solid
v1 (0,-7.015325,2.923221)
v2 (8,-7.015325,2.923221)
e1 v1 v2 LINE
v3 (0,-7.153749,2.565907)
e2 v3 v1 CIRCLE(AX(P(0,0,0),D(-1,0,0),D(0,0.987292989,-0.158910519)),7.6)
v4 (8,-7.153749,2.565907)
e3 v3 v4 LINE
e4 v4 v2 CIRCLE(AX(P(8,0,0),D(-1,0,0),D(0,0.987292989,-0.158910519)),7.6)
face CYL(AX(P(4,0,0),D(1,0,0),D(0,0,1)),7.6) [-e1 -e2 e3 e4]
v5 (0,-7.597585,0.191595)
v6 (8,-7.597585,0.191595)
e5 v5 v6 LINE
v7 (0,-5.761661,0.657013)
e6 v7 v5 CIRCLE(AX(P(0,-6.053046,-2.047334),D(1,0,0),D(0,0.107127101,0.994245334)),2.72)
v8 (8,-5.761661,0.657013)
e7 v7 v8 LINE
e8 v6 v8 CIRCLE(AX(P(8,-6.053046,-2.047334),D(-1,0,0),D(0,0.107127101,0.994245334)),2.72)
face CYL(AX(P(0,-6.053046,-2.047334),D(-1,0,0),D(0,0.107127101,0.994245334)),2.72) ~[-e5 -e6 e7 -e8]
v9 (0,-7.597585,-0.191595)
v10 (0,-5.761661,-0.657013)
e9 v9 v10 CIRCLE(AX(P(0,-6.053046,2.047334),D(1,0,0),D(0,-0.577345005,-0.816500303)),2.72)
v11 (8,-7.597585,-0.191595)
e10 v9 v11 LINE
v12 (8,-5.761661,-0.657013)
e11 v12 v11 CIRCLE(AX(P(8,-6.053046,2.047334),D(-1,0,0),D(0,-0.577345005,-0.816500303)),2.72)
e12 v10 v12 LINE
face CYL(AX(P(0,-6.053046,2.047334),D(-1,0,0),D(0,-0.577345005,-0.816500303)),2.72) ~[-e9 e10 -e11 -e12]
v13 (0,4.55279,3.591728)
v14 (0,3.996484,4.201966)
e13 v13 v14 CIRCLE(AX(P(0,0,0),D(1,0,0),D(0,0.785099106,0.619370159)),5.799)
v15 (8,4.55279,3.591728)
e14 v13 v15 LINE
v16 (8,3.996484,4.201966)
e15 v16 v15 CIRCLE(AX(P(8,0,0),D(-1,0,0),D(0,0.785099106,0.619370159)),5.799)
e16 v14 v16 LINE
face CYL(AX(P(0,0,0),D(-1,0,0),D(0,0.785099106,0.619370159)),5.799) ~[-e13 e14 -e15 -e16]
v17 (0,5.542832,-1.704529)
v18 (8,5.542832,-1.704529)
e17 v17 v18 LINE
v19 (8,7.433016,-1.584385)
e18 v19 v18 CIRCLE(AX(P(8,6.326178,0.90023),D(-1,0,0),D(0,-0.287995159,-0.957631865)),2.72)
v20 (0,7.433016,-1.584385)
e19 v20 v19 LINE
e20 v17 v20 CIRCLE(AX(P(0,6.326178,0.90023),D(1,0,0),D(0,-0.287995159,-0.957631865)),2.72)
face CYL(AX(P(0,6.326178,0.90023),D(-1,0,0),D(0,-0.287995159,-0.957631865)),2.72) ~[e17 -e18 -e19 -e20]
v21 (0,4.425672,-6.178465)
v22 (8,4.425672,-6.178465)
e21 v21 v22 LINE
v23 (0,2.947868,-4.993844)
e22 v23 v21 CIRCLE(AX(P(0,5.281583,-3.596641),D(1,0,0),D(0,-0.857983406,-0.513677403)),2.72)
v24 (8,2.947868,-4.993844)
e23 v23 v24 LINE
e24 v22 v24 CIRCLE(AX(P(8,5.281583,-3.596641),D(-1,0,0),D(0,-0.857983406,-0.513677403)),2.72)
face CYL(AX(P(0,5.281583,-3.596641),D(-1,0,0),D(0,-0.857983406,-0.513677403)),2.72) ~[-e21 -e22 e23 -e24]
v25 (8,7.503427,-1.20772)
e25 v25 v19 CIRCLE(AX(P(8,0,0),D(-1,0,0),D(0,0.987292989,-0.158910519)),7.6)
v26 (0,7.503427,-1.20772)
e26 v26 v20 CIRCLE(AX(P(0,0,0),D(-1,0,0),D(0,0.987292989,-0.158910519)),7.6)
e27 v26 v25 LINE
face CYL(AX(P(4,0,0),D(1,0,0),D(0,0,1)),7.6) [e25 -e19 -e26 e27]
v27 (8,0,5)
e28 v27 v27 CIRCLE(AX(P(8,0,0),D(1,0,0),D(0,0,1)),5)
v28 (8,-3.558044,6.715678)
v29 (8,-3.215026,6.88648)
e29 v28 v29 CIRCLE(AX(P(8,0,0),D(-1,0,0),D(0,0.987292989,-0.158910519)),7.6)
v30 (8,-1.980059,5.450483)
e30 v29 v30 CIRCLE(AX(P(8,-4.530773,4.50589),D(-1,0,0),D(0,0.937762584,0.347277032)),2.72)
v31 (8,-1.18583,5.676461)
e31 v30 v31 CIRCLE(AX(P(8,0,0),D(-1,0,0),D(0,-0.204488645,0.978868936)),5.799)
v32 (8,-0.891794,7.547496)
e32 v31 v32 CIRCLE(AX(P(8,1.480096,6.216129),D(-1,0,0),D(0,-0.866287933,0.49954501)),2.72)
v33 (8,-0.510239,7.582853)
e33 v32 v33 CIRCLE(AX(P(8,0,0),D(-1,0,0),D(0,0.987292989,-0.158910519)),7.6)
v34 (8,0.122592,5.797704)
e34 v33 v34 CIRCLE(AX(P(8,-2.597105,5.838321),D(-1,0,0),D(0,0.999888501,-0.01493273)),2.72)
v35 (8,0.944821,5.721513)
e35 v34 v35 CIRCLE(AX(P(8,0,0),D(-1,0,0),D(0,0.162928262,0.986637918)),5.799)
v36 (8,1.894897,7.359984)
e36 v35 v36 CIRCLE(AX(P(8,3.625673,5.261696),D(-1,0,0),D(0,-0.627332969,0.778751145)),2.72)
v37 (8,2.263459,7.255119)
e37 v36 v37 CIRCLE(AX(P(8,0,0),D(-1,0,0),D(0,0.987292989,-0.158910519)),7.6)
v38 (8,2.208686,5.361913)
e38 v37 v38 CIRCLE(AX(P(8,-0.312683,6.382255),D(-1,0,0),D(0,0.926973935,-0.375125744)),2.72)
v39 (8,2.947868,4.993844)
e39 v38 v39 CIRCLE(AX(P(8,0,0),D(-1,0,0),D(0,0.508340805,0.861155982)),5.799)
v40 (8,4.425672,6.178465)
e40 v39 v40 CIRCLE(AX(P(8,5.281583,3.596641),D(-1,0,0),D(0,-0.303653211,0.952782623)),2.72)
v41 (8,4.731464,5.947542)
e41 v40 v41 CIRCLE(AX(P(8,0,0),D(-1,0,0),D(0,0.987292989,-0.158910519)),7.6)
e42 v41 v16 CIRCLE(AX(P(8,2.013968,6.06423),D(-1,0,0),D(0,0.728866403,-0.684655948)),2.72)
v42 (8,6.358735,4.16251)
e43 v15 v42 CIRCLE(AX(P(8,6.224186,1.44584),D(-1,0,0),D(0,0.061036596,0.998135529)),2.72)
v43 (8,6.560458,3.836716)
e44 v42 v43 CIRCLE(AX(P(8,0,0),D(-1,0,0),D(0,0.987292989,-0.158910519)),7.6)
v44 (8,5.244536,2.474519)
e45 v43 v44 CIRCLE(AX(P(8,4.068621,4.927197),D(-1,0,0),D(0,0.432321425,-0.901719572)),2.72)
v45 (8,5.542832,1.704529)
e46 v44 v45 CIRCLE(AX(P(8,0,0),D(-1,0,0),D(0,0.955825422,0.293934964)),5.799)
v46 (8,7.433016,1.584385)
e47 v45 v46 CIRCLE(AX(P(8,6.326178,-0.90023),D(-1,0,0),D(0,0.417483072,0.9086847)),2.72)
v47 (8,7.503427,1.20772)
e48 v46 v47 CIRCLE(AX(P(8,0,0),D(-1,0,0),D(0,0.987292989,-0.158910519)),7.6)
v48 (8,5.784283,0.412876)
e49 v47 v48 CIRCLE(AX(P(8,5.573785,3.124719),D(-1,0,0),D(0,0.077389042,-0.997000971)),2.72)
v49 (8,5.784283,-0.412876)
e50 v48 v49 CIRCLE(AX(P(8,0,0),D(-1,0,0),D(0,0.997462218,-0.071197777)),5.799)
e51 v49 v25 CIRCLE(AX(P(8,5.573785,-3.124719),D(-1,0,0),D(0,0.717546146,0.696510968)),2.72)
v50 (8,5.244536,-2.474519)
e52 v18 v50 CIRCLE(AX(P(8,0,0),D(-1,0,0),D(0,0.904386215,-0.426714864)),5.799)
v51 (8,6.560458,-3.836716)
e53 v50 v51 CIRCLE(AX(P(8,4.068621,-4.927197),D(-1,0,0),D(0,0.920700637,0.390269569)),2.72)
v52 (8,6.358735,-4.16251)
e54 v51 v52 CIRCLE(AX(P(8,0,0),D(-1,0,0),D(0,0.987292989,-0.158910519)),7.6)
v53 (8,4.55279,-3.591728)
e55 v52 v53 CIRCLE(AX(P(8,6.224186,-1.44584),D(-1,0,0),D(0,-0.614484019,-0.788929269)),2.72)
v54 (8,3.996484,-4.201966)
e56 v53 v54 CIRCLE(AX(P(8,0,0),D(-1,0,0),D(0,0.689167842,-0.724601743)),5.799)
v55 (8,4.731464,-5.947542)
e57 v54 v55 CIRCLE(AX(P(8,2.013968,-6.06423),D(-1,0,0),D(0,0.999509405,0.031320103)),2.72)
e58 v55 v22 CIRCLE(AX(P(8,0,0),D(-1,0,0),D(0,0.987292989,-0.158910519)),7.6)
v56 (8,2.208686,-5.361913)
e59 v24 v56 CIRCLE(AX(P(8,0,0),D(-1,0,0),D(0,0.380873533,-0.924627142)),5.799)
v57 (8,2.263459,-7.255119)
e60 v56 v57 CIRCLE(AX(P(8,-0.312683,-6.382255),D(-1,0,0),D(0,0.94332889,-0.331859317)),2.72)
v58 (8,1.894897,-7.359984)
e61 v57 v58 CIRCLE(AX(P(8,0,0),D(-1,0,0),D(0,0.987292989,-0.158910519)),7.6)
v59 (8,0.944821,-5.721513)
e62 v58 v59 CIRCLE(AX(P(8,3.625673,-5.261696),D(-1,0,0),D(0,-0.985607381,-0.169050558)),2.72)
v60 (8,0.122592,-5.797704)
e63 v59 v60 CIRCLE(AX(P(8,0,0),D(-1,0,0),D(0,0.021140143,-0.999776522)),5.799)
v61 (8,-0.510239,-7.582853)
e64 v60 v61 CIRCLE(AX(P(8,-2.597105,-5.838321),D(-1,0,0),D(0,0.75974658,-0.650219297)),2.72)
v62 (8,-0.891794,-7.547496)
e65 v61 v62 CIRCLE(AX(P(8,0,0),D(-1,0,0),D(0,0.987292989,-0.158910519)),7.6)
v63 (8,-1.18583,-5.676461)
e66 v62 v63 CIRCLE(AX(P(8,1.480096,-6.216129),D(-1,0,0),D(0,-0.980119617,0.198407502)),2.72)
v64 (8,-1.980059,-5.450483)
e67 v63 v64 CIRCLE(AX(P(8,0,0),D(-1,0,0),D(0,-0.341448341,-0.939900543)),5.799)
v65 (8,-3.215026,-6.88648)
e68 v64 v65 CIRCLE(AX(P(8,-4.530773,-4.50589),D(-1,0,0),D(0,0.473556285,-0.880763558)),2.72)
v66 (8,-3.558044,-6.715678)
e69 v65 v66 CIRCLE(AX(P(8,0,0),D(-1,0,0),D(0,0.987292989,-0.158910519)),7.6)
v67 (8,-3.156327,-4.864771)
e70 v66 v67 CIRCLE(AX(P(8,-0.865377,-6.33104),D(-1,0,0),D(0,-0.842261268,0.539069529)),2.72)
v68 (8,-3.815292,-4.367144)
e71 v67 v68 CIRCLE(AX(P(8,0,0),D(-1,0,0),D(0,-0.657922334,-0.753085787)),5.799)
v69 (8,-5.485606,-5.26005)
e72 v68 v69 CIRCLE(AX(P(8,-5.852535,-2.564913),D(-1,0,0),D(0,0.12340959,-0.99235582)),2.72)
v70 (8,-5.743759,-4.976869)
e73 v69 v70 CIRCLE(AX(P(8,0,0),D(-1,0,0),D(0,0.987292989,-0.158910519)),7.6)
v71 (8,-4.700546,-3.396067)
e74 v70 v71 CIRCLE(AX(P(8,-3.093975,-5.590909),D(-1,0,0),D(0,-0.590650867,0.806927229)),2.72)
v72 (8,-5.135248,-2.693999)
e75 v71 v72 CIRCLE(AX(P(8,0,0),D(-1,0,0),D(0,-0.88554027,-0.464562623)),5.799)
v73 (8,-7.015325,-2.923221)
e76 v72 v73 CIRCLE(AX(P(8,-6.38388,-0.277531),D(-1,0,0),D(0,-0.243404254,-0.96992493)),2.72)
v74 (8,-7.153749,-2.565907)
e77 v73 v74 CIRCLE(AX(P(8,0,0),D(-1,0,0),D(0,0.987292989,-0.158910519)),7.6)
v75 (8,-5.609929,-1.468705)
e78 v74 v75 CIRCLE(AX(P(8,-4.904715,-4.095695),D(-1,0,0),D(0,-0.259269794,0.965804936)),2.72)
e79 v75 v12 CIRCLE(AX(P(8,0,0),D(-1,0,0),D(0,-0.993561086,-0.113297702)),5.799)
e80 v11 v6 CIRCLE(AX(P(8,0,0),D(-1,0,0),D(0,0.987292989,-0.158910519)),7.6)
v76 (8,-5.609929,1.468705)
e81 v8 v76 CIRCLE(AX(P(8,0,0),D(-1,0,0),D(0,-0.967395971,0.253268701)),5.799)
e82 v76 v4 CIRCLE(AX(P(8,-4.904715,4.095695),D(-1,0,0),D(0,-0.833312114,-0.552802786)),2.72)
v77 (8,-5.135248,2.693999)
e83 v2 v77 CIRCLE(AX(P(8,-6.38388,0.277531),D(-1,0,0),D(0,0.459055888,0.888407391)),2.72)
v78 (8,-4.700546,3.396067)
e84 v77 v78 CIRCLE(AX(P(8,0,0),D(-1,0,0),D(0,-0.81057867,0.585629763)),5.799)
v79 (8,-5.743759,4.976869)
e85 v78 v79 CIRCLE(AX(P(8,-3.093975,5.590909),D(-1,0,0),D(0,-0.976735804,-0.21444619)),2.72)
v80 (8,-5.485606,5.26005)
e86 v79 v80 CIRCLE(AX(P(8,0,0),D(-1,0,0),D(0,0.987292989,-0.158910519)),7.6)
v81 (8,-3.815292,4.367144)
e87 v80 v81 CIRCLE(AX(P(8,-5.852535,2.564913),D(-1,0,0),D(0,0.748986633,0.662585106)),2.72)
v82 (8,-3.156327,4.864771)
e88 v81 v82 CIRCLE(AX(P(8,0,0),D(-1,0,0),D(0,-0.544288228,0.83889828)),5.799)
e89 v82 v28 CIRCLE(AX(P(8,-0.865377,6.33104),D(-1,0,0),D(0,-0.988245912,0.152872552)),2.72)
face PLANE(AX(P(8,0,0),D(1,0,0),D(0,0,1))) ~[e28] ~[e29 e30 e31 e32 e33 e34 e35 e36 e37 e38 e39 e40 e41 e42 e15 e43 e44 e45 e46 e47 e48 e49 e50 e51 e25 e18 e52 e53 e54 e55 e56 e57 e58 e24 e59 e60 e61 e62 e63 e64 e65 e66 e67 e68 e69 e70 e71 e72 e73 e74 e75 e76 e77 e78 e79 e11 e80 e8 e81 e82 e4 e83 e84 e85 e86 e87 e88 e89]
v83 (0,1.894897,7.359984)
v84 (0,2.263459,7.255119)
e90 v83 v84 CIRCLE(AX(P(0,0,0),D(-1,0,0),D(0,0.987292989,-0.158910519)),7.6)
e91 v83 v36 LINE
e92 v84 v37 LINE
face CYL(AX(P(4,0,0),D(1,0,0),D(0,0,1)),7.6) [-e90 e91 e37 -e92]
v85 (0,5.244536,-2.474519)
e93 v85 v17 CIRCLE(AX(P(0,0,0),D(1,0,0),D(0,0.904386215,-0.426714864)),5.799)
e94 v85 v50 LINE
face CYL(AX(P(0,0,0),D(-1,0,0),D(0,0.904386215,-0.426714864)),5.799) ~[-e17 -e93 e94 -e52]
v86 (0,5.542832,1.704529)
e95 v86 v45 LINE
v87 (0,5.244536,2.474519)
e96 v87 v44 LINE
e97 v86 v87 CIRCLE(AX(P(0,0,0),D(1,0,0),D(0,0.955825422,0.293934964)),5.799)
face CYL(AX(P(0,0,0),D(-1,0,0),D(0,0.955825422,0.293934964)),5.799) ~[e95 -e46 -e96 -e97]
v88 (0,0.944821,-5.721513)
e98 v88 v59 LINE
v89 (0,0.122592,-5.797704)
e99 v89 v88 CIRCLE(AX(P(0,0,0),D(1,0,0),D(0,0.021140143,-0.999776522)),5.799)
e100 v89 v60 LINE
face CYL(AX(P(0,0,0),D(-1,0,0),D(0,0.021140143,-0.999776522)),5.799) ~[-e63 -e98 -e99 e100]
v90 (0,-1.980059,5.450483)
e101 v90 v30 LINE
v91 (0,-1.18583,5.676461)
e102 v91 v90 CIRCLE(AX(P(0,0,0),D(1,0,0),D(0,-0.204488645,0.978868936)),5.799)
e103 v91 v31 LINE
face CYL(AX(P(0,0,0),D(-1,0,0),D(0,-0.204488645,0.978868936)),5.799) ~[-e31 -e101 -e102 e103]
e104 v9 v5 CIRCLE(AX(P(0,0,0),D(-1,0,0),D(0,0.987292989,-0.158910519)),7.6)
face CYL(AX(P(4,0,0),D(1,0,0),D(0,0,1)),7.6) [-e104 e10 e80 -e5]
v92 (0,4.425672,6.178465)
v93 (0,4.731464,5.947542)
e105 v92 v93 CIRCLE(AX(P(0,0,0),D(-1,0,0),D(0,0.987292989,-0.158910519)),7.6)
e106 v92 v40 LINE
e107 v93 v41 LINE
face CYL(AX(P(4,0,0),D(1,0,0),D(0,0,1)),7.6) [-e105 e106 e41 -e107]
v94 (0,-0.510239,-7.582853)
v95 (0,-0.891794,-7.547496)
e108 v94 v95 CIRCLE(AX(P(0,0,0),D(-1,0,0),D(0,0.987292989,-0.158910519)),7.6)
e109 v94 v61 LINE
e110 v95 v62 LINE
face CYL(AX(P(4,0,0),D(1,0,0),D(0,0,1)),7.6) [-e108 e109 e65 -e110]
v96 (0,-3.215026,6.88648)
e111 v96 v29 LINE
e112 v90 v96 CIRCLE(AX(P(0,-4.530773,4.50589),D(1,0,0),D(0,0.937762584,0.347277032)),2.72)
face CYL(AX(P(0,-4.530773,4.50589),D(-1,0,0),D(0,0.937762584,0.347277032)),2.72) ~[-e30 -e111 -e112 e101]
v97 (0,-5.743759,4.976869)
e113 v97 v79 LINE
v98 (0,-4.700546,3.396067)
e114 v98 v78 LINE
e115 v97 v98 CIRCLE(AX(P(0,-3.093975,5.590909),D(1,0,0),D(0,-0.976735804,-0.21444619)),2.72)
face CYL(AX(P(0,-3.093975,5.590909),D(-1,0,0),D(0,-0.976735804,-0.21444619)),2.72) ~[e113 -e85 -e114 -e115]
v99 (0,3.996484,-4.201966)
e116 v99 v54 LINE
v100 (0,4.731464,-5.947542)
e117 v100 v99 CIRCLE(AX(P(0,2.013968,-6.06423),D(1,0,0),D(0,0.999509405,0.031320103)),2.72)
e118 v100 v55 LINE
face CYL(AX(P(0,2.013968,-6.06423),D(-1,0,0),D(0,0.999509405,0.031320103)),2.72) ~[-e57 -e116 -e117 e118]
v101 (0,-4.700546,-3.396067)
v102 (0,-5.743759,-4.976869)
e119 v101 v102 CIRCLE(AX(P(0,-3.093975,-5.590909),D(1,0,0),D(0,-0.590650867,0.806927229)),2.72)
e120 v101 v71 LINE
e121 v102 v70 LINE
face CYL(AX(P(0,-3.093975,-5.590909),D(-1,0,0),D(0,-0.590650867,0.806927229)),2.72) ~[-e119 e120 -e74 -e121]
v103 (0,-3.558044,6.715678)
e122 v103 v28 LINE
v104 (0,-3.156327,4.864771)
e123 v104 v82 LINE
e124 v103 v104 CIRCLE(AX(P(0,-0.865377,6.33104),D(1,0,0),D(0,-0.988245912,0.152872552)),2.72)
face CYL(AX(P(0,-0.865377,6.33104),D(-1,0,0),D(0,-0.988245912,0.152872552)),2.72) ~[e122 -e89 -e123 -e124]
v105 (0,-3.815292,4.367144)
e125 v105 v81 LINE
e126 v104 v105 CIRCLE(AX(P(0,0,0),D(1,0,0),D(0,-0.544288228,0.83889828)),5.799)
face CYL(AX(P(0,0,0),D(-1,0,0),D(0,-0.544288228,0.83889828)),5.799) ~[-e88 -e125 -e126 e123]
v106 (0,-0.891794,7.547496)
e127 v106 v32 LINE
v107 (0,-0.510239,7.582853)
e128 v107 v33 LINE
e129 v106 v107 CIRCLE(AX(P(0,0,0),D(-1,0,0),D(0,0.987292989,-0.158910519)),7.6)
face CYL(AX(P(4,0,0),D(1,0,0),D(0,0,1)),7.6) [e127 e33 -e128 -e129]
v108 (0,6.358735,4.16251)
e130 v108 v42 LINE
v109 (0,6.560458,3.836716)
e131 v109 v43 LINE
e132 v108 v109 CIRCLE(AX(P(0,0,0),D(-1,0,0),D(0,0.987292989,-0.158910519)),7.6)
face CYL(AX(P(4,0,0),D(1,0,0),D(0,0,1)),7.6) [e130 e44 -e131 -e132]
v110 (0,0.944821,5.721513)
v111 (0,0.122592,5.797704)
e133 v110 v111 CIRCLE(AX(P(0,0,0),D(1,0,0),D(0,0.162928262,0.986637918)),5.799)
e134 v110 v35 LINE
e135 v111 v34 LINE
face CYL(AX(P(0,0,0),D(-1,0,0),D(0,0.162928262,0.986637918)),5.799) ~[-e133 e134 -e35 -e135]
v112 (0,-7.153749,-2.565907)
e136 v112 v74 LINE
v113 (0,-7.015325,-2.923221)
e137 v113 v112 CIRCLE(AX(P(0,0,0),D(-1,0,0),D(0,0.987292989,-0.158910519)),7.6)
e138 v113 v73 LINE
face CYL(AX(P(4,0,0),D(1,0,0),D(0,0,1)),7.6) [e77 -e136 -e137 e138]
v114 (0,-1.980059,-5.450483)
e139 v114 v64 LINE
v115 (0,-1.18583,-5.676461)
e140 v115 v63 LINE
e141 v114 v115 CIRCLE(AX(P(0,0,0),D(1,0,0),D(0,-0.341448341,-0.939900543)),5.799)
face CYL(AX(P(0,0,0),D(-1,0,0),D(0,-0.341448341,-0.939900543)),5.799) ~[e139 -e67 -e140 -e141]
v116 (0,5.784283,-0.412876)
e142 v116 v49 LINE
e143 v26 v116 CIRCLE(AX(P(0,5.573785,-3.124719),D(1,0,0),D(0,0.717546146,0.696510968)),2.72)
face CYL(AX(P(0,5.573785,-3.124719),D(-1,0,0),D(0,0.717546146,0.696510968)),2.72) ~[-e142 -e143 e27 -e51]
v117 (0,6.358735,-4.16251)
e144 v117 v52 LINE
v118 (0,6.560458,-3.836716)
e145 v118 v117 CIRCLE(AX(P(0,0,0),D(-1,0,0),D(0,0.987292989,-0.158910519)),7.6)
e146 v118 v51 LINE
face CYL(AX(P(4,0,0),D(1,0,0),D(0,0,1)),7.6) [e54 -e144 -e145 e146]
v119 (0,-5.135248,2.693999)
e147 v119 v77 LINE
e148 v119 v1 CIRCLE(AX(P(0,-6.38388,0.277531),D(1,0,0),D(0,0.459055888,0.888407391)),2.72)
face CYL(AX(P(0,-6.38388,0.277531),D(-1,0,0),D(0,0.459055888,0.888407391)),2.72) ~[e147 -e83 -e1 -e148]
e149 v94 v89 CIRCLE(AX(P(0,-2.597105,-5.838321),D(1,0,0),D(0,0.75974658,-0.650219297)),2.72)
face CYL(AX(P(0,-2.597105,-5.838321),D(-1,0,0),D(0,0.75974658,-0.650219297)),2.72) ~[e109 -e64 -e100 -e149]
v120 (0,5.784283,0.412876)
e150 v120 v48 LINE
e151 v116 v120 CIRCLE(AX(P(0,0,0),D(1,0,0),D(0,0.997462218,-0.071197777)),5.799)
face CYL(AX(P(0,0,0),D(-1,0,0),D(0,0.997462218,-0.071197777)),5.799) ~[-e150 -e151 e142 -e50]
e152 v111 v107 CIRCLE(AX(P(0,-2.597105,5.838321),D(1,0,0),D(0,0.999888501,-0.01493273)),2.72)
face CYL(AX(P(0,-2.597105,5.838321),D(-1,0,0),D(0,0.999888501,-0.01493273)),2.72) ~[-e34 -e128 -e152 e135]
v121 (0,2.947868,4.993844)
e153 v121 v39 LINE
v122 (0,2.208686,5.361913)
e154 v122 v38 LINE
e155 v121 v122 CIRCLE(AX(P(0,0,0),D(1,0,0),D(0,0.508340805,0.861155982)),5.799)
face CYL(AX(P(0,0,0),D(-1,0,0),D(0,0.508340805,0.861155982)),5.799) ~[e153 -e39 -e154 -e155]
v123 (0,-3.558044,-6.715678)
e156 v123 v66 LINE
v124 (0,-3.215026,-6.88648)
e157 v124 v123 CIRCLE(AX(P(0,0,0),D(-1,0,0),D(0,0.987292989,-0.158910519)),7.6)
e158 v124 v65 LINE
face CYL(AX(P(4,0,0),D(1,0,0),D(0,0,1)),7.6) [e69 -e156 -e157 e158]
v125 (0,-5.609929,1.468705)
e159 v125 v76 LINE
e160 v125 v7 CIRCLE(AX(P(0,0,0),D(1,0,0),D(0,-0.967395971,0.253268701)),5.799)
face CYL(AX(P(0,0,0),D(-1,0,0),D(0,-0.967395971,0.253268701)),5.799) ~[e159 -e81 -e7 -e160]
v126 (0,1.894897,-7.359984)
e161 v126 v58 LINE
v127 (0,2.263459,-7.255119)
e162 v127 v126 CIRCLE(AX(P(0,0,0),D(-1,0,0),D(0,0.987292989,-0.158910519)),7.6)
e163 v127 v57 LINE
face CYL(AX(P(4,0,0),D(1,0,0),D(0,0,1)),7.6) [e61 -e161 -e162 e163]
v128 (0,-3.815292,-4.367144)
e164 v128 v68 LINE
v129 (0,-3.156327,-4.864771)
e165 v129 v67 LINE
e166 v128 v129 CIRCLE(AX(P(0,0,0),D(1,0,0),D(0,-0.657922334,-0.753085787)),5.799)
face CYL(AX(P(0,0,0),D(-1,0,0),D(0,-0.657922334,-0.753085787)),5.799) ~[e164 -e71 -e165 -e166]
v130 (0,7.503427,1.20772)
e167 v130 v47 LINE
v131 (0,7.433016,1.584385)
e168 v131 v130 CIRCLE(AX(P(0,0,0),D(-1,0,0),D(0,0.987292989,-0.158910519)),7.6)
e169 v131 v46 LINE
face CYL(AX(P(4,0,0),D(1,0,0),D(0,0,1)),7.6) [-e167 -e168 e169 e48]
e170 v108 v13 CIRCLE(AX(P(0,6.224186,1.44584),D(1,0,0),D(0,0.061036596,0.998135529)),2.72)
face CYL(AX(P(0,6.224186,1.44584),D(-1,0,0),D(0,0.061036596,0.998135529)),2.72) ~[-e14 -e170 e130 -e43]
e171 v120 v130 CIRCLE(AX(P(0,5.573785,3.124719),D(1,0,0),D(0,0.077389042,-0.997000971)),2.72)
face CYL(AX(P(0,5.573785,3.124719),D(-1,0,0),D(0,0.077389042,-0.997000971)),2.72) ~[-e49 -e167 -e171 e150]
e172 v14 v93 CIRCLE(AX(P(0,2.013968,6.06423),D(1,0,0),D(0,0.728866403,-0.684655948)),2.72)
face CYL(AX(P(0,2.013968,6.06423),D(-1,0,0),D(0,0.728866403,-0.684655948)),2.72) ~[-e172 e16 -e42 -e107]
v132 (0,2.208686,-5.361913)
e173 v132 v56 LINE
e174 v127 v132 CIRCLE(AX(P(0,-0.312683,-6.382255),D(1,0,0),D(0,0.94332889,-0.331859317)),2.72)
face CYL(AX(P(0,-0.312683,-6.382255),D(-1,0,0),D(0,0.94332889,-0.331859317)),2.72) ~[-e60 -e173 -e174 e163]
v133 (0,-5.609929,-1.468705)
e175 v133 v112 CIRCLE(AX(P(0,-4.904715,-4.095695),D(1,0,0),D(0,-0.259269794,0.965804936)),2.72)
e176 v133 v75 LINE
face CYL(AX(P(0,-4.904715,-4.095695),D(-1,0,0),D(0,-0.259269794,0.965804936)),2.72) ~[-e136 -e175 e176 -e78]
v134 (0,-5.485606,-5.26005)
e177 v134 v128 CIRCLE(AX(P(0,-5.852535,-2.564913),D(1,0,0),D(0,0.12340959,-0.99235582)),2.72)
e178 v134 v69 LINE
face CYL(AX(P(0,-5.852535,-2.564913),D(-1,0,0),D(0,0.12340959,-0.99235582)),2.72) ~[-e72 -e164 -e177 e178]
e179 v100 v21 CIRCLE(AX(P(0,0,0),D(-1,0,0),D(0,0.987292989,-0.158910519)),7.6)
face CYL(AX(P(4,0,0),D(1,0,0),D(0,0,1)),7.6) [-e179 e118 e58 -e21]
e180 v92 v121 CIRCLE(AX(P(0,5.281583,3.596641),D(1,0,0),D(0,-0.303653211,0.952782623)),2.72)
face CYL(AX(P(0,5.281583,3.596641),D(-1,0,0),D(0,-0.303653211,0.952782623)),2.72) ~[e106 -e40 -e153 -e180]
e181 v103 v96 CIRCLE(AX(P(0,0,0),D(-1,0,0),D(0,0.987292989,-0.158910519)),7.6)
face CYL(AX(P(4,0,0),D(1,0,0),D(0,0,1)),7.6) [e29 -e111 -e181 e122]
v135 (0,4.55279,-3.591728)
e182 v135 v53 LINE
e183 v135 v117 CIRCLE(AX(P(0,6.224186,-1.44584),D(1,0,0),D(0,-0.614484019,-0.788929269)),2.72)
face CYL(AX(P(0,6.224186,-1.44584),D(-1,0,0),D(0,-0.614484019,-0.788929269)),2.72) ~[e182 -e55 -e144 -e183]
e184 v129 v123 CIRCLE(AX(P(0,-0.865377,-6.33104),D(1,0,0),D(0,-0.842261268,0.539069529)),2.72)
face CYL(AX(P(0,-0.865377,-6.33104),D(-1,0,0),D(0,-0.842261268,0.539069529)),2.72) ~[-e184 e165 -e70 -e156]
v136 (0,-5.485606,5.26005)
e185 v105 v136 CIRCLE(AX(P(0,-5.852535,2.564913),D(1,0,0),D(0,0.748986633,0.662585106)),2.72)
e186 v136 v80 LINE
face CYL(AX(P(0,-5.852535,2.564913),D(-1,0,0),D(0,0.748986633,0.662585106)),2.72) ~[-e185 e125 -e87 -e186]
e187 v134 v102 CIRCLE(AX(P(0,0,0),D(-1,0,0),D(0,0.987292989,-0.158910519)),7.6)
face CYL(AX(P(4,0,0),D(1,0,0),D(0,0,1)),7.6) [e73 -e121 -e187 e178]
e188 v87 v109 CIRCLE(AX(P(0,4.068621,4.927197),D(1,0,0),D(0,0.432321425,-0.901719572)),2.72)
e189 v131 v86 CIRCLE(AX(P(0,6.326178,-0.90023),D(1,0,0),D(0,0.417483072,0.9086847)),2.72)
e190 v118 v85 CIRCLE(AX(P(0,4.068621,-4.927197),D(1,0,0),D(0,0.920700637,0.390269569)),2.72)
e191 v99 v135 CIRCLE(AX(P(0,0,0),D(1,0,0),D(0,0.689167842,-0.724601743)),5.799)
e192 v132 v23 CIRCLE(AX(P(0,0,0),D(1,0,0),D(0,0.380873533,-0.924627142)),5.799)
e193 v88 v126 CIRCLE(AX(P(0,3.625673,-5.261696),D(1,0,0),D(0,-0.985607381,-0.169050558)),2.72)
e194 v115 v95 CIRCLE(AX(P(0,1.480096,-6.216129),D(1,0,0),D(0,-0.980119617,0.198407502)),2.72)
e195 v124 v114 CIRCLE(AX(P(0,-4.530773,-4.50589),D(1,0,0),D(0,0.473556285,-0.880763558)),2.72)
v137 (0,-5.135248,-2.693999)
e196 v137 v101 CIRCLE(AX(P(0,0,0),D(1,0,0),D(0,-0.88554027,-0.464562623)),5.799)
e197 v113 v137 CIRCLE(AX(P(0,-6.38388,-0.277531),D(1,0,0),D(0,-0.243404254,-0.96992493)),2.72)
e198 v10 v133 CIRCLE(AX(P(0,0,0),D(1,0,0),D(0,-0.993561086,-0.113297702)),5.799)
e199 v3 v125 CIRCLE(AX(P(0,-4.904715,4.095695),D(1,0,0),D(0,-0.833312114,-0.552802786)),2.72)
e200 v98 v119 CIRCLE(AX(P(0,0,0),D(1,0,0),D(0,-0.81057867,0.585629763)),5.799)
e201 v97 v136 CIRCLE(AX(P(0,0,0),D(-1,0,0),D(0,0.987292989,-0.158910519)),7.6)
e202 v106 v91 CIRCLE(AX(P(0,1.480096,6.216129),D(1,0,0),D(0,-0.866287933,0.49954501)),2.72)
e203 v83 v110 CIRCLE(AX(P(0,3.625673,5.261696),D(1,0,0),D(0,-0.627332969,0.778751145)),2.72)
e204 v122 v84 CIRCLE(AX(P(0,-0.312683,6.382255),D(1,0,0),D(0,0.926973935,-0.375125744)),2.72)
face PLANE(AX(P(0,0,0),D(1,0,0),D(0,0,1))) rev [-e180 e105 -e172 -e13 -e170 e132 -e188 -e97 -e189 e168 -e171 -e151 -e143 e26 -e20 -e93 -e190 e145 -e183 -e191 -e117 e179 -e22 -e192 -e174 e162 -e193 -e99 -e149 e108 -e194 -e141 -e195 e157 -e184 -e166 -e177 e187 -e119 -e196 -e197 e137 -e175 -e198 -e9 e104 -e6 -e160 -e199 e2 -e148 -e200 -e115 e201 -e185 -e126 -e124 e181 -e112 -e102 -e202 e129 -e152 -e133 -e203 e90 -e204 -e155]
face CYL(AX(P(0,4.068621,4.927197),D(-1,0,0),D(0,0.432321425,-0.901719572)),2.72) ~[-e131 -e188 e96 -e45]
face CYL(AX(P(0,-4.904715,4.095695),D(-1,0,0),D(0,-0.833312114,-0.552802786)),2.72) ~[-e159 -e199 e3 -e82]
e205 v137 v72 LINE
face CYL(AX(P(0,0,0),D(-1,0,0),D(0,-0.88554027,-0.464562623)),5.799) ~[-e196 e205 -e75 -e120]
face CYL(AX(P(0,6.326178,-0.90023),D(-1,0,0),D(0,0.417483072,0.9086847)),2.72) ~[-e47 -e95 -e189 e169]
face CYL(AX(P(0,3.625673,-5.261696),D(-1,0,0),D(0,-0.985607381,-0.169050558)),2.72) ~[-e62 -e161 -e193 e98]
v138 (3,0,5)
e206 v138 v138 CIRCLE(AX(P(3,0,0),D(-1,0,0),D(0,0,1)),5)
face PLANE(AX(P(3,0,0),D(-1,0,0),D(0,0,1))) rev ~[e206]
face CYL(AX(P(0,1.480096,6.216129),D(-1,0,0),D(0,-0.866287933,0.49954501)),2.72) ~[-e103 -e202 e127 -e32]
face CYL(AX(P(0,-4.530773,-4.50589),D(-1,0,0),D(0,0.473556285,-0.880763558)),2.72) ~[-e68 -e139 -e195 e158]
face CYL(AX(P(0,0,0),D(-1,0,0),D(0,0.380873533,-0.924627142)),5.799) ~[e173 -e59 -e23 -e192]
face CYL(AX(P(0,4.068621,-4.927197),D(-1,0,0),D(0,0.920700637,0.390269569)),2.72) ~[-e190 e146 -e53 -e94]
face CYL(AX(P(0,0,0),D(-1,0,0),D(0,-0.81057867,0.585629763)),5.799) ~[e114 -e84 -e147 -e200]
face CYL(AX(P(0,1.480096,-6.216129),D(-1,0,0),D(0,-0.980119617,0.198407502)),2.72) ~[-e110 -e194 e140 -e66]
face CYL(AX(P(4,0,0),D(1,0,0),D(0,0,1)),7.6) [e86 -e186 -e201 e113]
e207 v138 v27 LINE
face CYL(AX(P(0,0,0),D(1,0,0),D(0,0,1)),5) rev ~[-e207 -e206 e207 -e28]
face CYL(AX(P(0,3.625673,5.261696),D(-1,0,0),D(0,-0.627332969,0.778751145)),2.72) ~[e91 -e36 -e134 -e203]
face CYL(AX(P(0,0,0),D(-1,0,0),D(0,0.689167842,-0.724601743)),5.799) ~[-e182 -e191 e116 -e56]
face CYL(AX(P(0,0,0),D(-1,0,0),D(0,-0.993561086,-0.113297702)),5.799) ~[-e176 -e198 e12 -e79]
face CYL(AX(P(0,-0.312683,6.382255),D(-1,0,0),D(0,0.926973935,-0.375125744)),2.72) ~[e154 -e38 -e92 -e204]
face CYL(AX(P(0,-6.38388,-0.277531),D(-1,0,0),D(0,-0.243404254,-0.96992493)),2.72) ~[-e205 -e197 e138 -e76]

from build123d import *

# Parameters (mm, degrees)
BASPROSKE_W         = 8
BASPROSKE_H         = 7.6
TOOTHCUT_DEPTH      = 14.39850738
TEETHCUTS_COUNT     = 17
TEETHCUTS_ANGLE     = 338.823529412
BORSKE_R            = 5
BORE_DEPTH          = 50.0000508
BOSS_EXTRUDE1_START = -3
SKETCH1_R           = 5
BOSS_EXTRUDE1_DEPTH = 3


with BuildPart() as part:
    # BasProSke → Base-Revolve (revolve)
    with BuildSketch(Plane(origin=(0, 0, 0), x_dir=(1, 0, 0), z_dir=(0, 1, 0)), mode=Mode.PRIVATE) as base_revolve_sk:
        with Locations((4, 3.8)):
            Rectangle(BASPROSKE_W, BASPROSKE_H)
    revolve(base_revolve_sk.sketch.rotate(Axis((-10, 0, 0), (1, 0, 0)), 180), axis=Axis((-10, 0, 0), (1, 0, 0)))

    # TooCutSke → ToothCut (cut, through all)
    with BuildSketch(Plane(origin=(0, 0, 0), x_dir=(0, 0, -1), z_dir=(1, 0, 0))):
        with BuildLine():
            ThreePointArc((0.412875903, 5.784283403), (0, 5.799), (-0.412875903, 5.784283403))
            ThreePointArc((-0.412875903, 5.784283403), (-0.662486036, 6.729558143), (-1.230208712, 7.525510726))
            ThreePointArc((-1.230208712, 7.525510726), (0, 7.6254), (1.230208712, 7.525510726))
            ThreePointArc((1.230208712, 7.525510726), (0.662486036, 6.729558143), (0.412875903, 5.784283403))
        make_face()
    toothcut = extrude(amount=TOOTHCUT_DEPTH, mode=Mode.SUBTRACT)

    # TeethCuts: ToothCut ×17 about axis
    teethcuts_axis = Axis((-10, 0, 0), (1, 0, 0))
    for i in range(1, TEETHCUTS_COUNT):
        add(toothcut.rotate(teethcuts_axis, i * TEETHCUTS_ANGLE / (TEETHCUTS_COUNT - 1)), mode=Mode.SUBTRACT)

    # BorSke → Bore (cut, symmetric)
    with BuildSketch(Plane(origin=(0, 0, 0), x_dir=(0, 0, -1), z_dir=(1, 0, 0))):
        with Locations(Location((0, 0, 0), (0, 0, 180))):
            Circle(BORSKE_R)
    extrude(amount=BORE_DEPTH, both=True, mode=Mode.SUBTRACT)

    # Sketch1 → Boss-Extrude1 (add)
    with BuildSketch(Plane.ZY.offset(BOSS_EXTRUDE1_START)):
        Circle(SKETCH1_R)
    extrude(amount=BOSS_EXTRUDE1_DEPTH)


solid = part.part
